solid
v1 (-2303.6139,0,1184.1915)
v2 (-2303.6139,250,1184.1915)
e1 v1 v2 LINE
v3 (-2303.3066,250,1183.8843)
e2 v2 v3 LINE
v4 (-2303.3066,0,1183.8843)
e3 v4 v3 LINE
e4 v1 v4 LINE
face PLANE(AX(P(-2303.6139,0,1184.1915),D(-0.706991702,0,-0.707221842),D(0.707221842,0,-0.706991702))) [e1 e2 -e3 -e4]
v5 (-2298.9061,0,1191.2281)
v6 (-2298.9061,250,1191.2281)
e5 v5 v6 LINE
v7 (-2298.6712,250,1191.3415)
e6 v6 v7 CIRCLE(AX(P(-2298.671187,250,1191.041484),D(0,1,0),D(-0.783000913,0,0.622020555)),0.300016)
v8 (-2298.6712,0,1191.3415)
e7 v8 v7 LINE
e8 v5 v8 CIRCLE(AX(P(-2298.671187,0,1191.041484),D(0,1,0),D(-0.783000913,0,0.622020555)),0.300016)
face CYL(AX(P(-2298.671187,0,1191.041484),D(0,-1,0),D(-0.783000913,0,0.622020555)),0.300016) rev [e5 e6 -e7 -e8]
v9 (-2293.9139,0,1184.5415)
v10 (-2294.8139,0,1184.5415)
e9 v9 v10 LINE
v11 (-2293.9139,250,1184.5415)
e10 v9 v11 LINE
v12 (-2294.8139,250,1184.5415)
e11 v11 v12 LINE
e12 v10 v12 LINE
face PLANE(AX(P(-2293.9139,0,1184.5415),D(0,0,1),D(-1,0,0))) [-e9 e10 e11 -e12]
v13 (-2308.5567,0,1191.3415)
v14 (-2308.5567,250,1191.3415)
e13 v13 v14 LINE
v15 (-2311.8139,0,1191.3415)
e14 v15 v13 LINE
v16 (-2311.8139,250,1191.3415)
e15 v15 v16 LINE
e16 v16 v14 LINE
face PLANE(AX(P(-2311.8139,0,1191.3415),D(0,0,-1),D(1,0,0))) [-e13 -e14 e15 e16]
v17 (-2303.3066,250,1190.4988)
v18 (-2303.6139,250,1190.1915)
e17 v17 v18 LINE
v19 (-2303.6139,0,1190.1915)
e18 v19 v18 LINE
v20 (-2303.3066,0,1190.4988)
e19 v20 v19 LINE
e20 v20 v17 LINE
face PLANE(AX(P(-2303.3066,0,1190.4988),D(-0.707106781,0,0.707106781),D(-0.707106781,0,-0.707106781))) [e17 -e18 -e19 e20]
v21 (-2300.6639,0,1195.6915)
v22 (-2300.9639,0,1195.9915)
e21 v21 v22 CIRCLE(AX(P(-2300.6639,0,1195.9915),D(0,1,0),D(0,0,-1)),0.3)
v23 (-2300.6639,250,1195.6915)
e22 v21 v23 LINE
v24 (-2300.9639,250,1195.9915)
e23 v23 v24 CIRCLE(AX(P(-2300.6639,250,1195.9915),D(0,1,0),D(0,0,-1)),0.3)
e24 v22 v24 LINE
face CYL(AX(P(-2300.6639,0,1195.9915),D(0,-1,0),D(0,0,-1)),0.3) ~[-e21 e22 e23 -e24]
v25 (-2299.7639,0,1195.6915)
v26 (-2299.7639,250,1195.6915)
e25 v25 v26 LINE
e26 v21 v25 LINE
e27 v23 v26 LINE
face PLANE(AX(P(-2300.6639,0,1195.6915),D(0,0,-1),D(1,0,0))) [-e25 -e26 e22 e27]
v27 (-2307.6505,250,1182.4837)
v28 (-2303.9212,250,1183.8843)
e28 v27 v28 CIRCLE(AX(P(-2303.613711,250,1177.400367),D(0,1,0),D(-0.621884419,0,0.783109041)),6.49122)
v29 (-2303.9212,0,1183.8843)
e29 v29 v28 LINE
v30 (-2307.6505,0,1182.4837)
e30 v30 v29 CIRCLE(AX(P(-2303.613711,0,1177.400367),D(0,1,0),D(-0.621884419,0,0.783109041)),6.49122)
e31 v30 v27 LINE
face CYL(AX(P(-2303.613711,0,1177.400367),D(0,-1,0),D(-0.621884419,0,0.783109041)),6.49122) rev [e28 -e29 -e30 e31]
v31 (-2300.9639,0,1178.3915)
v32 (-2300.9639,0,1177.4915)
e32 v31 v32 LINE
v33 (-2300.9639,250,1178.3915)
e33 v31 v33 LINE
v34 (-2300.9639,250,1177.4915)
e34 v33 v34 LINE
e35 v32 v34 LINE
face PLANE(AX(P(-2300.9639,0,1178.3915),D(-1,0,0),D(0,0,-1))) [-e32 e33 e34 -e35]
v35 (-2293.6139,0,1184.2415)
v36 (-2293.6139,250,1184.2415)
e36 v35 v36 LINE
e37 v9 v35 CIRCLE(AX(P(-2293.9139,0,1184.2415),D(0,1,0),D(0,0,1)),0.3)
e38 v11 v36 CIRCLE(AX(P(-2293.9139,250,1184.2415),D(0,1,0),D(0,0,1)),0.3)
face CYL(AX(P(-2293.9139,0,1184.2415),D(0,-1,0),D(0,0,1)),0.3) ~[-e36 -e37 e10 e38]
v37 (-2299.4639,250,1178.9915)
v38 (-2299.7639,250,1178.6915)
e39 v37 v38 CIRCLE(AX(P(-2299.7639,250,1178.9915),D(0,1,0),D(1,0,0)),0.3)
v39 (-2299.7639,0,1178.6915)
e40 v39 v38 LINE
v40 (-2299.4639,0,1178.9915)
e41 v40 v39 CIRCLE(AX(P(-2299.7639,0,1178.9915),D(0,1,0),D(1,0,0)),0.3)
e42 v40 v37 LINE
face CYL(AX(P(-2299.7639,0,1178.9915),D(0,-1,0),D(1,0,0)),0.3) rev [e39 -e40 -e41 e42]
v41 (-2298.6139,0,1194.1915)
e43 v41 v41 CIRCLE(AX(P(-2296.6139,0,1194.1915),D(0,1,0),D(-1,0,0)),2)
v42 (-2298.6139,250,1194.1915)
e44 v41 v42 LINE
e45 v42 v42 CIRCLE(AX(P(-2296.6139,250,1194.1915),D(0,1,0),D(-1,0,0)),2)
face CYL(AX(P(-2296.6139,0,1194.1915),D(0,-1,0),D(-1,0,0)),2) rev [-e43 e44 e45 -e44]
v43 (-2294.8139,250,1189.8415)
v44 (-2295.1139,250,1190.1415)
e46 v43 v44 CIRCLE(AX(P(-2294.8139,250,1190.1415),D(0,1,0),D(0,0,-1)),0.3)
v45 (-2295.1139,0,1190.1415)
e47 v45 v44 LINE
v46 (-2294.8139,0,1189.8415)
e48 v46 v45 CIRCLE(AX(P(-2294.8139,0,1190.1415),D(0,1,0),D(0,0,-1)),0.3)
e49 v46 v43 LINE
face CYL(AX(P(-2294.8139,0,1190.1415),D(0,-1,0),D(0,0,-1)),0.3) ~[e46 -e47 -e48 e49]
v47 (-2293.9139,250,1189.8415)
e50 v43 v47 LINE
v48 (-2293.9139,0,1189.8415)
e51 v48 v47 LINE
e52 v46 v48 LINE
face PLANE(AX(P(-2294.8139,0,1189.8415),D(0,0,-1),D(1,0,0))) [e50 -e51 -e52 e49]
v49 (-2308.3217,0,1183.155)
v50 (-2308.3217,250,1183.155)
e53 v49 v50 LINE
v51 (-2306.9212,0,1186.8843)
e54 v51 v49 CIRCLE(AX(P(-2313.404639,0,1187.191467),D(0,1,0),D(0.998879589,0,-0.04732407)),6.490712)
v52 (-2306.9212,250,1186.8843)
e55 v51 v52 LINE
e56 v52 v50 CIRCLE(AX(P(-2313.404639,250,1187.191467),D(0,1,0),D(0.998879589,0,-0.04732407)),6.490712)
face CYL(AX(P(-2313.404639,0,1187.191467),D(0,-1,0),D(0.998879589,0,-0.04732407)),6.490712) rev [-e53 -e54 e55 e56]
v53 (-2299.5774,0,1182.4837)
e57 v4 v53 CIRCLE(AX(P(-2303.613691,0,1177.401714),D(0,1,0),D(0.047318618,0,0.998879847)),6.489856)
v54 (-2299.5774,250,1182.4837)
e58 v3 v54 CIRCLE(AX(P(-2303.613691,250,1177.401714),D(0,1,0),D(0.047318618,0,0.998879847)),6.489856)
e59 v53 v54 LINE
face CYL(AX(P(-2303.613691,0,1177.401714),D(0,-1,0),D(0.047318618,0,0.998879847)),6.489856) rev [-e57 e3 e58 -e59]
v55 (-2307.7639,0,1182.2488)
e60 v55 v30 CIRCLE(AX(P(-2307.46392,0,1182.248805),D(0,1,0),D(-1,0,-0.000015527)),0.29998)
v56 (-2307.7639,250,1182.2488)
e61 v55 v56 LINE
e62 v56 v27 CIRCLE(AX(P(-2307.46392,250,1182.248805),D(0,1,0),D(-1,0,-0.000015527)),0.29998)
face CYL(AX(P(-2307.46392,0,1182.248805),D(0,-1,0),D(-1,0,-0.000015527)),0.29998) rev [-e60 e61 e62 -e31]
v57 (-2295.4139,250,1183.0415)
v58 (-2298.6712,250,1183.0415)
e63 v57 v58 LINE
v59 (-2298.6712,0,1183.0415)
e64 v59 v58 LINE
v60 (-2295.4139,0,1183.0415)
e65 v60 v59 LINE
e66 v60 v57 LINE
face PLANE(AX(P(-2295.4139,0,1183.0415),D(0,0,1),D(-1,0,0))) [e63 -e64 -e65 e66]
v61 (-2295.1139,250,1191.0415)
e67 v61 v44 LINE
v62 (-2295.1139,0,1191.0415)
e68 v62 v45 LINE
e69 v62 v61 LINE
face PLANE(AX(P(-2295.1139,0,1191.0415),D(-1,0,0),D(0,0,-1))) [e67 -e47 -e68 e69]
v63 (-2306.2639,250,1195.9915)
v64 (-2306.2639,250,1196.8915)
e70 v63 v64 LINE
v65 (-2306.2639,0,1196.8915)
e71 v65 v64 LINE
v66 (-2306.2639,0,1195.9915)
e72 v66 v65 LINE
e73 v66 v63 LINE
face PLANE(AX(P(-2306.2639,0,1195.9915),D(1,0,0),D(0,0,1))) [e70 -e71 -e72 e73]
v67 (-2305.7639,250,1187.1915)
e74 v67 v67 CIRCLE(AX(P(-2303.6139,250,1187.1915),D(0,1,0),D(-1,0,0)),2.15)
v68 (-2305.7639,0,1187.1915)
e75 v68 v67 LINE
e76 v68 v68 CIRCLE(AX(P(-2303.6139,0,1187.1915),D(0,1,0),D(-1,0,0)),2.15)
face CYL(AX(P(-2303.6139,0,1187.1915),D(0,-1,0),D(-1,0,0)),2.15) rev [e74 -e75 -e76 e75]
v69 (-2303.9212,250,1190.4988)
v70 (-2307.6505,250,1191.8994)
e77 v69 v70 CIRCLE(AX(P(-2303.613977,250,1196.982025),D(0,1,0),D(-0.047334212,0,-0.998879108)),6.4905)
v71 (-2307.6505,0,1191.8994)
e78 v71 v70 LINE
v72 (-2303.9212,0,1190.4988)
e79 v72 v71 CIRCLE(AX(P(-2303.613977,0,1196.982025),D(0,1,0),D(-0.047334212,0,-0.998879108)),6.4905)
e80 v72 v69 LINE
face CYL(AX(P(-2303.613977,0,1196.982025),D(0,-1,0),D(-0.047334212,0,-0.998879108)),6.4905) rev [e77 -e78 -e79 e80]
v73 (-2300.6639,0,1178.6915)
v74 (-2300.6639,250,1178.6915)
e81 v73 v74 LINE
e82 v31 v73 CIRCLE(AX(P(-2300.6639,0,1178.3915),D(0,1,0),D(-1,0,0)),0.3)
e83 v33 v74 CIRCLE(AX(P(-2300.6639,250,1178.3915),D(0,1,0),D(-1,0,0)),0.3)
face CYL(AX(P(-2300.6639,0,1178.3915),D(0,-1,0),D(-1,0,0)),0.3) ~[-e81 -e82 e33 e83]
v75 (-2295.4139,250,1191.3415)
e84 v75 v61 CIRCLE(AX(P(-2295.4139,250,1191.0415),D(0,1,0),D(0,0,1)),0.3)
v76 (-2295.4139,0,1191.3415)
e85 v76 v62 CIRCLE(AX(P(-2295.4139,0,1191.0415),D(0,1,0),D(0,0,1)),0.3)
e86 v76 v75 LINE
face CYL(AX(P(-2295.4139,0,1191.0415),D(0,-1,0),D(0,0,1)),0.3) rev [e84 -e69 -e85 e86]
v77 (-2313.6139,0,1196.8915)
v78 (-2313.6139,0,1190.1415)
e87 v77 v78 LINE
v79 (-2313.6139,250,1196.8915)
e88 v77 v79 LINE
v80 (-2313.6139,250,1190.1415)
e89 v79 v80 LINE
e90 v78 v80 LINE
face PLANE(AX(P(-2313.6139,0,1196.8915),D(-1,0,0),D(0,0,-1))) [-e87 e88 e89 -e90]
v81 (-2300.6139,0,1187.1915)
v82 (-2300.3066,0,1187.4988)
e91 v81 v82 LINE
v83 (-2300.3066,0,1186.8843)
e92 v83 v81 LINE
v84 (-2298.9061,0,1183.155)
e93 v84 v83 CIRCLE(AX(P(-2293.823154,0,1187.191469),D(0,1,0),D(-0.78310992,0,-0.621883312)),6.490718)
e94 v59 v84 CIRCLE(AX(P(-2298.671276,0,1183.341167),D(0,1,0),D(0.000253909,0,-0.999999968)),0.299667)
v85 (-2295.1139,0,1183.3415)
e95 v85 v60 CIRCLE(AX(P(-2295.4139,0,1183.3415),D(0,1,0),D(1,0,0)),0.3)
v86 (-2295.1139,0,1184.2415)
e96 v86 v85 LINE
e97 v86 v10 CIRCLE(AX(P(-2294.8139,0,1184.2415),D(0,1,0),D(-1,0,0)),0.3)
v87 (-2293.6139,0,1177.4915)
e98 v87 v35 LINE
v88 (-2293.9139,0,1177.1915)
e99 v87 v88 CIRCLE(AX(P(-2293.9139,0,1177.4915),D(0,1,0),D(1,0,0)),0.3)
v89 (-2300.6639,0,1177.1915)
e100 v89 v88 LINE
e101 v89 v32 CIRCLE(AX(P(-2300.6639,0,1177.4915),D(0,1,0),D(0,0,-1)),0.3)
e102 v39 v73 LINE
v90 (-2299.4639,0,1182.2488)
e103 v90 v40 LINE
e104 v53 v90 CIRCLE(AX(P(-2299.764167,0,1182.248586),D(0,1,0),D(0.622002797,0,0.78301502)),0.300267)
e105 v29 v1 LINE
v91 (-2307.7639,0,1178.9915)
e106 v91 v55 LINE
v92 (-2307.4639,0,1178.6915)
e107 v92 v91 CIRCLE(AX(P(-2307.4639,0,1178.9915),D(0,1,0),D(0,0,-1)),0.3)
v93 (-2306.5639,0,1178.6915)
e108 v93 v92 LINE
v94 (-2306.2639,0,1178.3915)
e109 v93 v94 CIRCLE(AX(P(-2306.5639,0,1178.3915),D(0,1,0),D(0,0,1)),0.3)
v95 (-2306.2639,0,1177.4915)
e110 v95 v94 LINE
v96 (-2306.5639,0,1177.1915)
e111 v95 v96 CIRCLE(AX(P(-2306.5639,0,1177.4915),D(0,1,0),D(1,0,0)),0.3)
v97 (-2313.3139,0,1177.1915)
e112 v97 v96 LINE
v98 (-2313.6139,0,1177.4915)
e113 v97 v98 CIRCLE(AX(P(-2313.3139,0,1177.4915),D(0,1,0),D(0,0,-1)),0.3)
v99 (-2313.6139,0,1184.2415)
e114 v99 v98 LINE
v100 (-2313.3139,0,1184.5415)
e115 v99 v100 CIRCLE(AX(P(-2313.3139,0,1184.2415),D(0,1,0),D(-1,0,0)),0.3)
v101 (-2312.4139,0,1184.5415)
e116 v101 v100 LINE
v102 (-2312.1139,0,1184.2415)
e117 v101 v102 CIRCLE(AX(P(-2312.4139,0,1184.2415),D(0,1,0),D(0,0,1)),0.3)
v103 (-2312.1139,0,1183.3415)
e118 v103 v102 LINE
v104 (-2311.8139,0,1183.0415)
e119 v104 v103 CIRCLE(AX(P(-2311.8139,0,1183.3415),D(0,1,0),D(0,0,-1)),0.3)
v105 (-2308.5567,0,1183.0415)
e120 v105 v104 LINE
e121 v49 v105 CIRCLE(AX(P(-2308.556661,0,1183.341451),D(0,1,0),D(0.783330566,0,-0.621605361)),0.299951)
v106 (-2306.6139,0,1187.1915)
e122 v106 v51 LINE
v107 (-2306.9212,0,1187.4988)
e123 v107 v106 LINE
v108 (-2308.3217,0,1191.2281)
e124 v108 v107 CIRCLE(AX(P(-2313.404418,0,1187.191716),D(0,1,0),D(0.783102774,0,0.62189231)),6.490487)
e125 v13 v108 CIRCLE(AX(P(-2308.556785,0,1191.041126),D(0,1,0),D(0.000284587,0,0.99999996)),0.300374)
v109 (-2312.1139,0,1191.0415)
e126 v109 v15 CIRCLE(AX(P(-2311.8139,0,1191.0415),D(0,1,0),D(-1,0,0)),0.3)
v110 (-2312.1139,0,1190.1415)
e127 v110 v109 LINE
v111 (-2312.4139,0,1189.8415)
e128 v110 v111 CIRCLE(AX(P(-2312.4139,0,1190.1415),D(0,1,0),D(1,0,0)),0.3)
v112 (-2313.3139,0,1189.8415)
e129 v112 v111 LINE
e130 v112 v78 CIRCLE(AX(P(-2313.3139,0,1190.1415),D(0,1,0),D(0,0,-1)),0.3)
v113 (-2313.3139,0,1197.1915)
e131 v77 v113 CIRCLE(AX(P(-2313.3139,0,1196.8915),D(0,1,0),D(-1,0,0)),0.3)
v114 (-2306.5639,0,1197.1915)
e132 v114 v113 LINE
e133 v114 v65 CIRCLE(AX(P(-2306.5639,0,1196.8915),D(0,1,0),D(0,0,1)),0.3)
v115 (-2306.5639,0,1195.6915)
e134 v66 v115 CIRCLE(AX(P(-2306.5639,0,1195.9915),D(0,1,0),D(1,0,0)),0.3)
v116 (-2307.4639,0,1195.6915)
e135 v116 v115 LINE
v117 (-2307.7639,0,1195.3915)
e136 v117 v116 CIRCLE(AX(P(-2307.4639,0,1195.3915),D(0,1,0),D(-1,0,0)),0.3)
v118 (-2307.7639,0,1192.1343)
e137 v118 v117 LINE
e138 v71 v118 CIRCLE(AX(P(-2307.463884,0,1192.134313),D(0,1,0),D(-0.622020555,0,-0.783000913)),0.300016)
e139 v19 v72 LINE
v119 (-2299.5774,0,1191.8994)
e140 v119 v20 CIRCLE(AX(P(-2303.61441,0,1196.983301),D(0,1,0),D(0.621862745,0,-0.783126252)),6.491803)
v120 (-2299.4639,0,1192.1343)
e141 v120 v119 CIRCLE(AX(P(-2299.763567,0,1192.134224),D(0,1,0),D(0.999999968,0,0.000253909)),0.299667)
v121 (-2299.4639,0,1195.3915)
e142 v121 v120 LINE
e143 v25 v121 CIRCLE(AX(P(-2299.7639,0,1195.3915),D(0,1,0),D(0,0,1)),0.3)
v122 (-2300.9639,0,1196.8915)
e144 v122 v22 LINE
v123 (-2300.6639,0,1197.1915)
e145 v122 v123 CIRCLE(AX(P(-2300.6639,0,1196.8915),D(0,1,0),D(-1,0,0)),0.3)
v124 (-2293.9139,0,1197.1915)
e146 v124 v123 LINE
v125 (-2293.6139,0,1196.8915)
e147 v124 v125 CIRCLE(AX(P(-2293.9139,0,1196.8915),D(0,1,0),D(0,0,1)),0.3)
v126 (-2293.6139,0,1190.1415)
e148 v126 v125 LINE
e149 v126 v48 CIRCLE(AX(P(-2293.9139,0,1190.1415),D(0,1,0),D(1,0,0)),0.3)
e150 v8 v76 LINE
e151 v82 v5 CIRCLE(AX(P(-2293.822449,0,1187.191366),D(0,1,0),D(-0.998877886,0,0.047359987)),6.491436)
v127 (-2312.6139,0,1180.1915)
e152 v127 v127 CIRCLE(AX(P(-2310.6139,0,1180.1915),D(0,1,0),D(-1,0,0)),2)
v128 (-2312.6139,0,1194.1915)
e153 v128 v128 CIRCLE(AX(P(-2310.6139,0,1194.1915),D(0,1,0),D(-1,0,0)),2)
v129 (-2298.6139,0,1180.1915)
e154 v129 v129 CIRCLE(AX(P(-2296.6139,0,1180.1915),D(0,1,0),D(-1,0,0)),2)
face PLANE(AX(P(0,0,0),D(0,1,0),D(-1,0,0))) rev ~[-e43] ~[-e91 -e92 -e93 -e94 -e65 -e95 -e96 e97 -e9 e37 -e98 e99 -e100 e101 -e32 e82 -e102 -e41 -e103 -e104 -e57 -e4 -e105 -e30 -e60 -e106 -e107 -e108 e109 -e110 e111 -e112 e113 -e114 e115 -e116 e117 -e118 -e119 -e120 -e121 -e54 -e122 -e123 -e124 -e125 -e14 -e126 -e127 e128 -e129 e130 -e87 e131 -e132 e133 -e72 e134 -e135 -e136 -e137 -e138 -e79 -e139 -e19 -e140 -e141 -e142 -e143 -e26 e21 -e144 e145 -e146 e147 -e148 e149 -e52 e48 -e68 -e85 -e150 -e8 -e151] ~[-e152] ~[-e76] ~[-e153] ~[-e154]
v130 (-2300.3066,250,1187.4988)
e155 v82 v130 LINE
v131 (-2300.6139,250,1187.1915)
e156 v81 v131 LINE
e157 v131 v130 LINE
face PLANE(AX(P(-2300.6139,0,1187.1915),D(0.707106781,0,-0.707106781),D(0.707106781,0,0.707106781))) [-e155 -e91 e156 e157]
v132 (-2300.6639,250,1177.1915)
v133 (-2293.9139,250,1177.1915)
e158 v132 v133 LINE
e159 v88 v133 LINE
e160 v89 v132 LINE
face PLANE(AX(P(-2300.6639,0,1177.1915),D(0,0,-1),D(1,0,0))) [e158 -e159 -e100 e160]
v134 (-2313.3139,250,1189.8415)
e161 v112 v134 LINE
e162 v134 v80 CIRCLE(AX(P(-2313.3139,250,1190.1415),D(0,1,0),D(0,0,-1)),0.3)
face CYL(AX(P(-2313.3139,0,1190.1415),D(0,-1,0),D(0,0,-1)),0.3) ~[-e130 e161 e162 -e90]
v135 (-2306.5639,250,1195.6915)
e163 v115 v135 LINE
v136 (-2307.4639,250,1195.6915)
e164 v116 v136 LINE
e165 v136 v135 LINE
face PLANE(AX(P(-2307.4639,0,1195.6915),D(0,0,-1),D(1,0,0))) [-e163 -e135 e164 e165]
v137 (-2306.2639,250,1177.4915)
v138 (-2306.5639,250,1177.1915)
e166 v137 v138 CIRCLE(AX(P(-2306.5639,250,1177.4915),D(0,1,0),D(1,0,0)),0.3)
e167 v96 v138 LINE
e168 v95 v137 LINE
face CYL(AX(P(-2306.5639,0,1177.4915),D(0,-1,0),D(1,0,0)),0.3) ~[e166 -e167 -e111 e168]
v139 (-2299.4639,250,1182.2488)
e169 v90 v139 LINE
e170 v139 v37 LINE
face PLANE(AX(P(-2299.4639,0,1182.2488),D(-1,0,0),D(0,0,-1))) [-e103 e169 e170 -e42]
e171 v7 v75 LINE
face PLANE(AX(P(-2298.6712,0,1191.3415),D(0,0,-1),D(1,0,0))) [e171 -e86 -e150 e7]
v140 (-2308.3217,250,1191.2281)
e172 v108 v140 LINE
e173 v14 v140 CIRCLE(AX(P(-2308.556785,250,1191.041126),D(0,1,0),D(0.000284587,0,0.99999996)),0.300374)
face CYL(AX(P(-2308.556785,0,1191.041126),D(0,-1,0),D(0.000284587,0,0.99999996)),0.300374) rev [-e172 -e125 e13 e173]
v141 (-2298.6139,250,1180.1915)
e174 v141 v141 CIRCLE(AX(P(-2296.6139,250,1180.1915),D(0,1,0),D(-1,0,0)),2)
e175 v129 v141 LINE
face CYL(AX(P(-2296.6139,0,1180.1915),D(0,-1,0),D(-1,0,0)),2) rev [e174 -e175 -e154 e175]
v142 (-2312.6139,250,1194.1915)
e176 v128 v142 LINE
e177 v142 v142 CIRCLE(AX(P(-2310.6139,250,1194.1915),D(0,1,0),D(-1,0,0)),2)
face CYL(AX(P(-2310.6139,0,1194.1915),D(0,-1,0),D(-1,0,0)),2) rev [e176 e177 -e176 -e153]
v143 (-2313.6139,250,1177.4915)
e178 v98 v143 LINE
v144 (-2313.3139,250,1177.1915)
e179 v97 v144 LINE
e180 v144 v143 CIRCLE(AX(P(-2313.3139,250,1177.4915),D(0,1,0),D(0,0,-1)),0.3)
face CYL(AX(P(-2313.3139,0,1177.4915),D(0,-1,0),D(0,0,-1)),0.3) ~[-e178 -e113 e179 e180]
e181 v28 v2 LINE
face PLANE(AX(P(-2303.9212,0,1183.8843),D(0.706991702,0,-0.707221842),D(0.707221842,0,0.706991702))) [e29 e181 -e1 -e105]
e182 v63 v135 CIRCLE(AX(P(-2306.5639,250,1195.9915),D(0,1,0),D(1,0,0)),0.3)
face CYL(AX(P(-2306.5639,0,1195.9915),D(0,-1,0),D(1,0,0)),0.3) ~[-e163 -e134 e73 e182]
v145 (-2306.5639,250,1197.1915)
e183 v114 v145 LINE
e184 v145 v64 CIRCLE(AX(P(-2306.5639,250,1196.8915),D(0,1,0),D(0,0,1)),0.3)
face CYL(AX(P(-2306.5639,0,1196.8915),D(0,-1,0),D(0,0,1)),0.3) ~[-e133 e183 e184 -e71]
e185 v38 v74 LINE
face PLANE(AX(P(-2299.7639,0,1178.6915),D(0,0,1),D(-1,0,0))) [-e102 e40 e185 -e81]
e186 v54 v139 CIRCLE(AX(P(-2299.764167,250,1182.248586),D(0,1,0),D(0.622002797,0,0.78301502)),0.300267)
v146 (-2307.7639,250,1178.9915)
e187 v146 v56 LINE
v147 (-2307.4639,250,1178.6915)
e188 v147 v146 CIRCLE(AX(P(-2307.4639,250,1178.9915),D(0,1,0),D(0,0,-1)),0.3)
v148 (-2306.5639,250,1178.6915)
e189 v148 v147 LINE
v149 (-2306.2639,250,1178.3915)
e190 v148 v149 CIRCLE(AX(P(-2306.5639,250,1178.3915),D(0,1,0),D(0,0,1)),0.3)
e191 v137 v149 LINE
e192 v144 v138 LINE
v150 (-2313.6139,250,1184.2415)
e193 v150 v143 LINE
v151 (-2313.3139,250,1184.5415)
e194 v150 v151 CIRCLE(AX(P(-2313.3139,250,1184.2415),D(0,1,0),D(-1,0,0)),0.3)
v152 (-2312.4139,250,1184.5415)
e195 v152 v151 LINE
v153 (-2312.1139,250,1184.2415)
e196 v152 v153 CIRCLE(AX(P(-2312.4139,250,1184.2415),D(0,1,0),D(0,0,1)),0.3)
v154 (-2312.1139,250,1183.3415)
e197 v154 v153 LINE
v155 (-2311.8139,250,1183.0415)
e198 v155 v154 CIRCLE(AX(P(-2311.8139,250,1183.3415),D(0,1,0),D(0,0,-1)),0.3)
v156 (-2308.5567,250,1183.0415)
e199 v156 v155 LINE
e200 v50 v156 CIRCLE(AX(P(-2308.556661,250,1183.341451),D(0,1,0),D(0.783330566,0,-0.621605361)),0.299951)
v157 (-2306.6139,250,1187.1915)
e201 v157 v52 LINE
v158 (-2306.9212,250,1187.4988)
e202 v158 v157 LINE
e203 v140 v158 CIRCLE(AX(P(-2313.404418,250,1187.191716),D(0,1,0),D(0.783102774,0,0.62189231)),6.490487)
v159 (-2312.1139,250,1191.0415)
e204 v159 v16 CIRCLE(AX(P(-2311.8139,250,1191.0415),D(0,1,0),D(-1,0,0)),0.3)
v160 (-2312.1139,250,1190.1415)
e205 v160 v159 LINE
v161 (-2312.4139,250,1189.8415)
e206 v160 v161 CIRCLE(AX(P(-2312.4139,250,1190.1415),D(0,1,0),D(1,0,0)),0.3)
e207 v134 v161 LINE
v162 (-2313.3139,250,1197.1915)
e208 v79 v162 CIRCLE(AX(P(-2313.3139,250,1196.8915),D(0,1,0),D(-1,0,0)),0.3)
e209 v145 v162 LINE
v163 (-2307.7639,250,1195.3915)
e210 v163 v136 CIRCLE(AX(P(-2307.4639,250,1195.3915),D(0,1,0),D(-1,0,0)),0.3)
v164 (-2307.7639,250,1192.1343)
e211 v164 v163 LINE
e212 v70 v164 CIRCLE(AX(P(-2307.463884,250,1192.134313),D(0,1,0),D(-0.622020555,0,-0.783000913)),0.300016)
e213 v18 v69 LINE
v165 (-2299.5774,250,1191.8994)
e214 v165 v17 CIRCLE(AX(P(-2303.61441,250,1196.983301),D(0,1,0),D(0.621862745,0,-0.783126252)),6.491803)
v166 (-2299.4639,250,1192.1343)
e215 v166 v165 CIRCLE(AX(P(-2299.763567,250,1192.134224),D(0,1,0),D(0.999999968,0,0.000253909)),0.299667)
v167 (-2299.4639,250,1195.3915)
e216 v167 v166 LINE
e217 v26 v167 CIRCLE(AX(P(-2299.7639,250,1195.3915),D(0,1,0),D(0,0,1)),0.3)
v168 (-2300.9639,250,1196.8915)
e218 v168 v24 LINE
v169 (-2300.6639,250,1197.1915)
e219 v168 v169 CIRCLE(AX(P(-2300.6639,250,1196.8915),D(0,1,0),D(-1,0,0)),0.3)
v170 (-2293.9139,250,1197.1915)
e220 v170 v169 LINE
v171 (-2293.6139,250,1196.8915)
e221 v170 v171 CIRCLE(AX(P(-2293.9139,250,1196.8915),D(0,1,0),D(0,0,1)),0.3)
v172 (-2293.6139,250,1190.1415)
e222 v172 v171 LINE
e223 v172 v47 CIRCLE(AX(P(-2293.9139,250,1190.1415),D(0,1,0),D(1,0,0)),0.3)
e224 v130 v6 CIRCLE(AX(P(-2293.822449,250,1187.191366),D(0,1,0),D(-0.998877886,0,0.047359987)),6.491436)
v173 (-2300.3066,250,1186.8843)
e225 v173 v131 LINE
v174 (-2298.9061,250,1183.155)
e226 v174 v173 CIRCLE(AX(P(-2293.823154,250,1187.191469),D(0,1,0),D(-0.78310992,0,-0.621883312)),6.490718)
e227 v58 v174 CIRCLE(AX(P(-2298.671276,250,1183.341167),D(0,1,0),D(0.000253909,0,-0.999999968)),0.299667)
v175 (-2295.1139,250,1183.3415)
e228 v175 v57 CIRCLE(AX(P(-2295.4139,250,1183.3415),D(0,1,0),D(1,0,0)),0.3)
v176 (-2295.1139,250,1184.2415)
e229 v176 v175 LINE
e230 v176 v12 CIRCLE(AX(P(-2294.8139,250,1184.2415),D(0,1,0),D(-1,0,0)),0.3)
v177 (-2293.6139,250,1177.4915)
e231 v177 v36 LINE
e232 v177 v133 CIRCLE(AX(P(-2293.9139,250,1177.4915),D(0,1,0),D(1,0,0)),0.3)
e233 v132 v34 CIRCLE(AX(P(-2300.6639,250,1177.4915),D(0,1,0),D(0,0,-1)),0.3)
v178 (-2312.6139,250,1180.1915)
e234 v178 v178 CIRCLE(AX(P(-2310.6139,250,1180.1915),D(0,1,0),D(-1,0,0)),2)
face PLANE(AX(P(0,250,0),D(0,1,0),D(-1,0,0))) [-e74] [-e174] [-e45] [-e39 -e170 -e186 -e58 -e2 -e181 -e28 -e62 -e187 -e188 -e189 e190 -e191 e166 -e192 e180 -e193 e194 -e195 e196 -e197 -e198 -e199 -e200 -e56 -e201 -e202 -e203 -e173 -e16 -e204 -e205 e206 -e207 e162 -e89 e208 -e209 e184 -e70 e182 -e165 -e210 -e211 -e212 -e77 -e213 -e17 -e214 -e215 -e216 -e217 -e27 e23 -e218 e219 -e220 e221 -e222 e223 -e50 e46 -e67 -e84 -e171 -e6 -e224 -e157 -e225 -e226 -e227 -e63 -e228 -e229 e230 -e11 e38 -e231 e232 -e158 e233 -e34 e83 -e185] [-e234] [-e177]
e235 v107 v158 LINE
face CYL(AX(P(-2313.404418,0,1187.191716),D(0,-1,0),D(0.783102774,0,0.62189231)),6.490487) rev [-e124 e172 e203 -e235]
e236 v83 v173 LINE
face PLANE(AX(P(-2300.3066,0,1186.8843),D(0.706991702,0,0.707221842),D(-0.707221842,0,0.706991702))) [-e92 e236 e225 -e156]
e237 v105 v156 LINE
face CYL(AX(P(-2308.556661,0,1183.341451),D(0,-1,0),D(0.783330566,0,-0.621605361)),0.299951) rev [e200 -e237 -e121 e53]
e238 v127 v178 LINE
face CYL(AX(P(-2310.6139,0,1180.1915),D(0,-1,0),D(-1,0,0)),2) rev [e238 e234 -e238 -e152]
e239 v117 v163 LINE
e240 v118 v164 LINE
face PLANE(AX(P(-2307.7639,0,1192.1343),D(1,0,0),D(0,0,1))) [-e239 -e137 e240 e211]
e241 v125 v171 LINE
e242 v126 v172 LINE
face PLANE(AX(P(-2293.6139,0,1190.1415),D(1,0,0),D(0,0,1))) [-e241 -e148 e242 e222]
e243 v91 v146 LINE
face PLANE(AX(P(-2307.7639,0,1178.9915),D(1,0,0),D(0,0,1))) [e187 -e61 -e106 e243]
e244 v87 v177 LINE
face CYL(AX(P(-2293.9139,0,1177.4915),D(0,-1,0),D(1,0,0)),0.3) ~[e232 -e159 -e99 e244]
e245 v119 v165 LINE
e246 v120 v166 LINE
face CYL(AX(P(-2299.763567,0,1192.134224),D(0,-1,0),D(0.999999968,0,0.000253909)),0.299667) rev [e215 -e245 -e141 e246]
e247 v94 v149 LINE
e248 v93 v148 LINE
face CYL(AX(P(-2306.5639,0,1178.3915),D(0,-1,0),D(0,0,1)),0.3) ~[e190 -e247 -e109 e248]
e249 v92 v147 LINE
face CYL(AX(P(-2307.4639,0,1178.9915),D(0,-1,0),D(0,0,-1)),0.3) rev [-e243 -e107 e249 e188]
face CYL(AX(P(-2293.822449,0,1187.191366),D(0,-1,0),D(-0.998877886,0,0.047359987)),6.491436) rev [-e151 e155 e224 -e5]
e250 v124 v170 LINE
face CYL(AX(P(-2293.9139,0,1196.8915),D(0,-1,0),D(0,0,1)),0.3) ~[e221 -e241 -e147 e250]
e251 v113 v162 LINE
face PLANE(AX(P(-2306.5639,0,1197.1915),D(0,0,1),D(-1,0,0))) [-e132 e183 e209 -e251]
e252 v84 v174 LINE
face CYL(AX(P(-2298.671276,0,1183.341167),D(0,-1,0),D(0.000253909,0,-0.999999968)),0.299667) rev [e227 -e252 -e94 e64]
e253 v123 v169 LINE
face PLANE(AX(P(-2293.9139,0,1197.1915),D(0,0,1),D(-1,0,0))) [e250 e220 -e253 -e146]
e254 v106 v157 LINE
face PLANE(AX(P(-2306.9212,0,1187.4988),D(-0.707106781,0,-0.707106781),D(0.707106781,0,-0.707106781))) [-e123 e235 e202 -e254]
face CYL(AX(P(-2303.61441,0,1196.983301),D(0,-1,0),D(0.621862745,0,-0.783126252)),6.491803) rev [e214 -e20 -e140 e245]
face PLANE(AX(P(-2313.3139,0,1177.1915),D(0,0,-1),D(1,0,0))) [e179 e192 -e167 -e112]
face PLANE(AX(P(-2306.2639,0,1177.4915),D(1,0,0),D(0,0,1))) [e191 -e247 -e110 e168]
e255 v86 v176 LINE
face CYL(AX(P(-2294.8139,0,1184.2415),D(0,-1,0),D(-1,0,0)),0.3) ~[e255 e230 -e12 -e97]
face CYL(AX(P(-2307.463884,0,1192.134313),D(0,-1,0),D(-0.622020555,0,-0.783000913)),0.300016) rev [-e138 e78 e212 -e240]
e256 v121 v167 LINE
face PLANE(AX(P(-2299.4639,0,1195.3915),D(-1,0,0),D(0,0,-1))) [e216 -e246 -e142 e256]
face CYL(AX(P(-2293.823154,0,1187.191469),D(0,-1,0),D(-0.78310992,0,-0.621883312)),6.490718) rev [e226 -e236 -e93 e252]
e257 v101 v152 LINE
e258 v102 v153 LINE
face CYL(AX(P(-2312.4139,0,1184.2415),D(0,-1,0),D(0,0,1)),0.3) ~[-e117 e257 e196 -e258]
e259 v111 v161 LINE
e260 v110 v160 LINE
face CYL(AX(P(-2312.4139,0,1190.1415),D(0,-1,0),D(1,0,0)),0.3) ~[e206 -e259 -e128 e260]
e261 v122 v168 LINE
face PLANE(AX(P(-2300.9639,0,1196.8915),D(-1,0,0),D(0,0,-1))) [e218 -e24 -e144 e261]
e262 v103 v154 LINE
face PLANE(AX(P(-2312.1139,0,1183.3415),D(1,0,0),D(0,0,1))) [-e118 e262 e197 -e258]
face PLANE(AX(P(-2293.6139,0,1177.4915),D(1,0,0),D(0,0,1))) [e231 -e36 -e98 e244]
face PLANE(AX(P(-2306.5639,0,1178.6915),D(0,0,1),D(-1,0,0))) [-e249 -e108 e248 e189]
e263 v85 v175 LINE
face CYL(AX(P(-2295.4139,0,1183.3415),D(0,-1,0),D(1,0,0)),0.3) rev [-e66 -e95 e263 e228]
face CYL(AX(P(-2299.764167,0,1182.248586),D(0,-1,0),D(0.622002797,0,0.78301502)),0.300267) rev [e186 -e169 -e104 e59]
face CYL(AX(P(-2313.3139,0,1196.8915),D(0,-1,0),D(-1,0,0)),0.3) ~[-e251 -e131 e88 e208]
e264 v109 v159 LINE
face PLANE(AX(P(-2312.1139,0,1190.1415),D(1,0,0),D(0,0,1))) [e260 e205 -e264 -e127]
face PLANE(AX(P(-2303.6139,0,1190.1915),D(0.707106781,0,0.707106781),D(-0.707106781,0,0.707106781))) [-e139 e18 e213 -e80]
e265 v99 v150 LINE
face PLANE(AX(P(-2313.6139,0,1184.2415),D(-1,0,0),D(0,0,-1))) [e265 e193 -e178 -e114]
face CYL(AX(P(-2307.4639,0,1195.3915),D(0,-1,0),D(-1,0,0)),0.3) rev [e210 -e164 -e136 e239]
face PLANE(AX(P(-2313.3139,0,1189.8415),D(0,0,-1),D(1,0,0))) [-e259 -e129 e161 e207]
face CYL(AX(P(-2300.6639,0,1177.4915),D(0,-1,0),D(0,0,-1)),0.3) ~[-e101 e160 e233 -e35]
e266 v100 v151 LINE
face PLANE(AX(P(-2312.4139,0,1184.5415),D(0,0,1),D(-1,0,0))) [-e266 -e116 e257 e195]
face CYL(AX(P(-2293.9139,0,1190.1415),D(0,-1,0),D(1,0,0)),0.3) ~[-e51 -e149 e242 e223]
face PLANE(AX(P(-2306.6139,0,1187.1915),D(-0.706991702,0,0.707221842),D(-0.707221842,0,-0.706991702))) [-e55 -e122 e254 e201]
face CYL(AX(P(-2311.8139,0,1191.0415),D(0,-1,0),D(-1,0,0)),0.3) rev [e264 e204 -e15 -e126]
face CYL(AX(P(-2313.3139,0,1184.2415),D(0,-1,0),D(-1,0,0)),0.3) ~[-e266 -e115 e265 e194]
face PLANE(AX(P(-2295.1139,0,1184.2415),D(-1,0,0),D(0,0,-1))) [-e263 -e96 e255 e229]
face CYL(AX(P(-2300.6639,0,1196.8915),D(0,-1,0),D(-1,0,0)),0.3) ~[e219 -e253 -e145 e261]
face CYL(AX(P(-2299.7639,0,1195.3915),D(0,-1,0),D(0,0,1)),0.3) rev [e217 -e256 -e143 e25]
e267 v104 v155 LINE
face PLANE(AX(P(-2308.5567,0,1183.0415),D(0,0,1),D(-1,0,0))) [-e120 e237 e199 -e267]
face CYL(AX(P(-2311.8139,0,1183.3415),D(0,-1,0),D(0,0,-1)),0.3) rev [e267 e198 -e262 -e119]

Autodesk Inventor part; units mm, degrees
ref_plane "YZ Plane" through (0, 0, 0) normal (1, 0, 0) x (0, 1, 0)
ref_plane "XZ Plane" through (0, 0, 0) normal (0, 1, 0) x (-1, 0, 0)
ref_plane "XY Plane" through (0, 0, 0) normal (0, 0, 1) x (1, 0, 0)
sketch "2020_Base" plane through (0, 0, 0) normal (0, 1, 0) x (-1, 0, 0)
  line L0 (2307.7639, 1192.1343) -> (2307.7639, 1195.3915) projected
  arc A0 (2307.7639, 1195.3915) -> (2307.4639, 1195.6915) centre (2307.4639, 1195.3915) ccw projected
  line L1 (2307.4639, 1195.6915) -> (2306.5639, 1195.6915) projected
  arc A1 (2306.2639, 1195.9915) -> (2306.5639, 1195.6915) centre (2306.5639, 1195.9915) ccw projected
  line L2 (2306.2639, 1195.9915) -> (2306.2639, 1196.8915) projected
  arc A2 (2306.5639, 1197.1915) -> (2306.2639, 1196.8915) centre (2306.5639, 1196.8915) ccw projected
  line L3 (2306.5639, 1197.1915) -> (2313.3139, 1197.1915) projected
  arc A3 (2313.6139, 1196.8915) -> (2313.3139, 1197.1915) centre (2313.3139, 1196.8915) ccw projected
  line L4 (2313.6139, 1196.8915) -> (2313.6139, 1190.1415) projected
  arc A4 (2313.3139, 1189.8415) -> (2313.6139, 1190.1415) centre (2313.3139, 1190.1415) ccw projected
  line L5 (2313.3139, 1189.8415) -> (2312.4139, 1189.8415) projected
  arc A5 (2312.1139, 1190.1415) -> (2312.4139, 1189.8415) centre (2312.4139, 1190.1415) ccw projected
  line L6 (2312.1139, 1190.1415) -> (2312.1139, 1191.0415) projected
  arc A6 (2312.1139, 1191.0415) -> (2311.8139, 1191.3415) centre (2311.8139, 1191.0415) ccw projected
  line L7 (2311.8139, 1191.3415) -> (2308.5567, 1191.3415) projected
  arc A7 (2308.5567, 1191.3415) -> (2308.3217, 1191.2281) centre (2308.5567, 1191.0415) ccw projected
  arc A8 (2308.3217, 1191.2281) -> (2306.9212, 1187.4988) centre (2313.4048, 1187.1915) ccw projected
  line L8 (2306.9212, 1187.4988) -> (2306.6139, 1187.1915) projected
  line L9 (2306.6139, 1187.1915) -> (2306.9212, 1186.8843) projected
  arc A9 (2306.9212, 1186.8843) -> (2308.3217, 1183.155) centre (2313.4048, 1187.1915) ccw projected
  arc A10 (2308.3217, 1183.155) -> (2308.5567, 1183.0415) centre (2308.5567, 1183.3415) ccw projected
  line L10 (2308.5567, 1183.0415) -> (2311.8139, 1183.0415) projected
  arc A11 (2311.8139, 1183.0415) -> (2312.1139, 1183.3415) centre (2311.8139, 1183.3415) ccw projected
  line L11 (2312.1139, 1183.3415) -> (2312.1139, 1184.2415) projected
  arc A12 (2312.4139, 1184.5415) -> (2312.1139, 1184.2415) centre (2312.4139, 1184.2415) ccw projected
  line L12 (2312.4139, 1184.5415) -> (2313.3139, 1184.5415) projected
  arc A13 (2313.6139, 1184.2415) -> (2313.3139, 1184.5415) centre (2313.3139, 1184.2415) ccw projected
  line L13 (2313.6139, 1184.2415) -> (2313.6139, 1177.4915) projected
  arc A14 (2313.3139, 1177.1915) -> (2313.6139, 1177.4915) centre (2313.3139, 1177.4915) ccw projected
  line L14 (2313.3139, 1177.1915) -> (2306.5639, 1177.1915) projected
  arc A15 (2306.2639, 1177.4915) -> (2306.5639, 1177.1915) centre (2306.5639, 1177.4915) ccw projected
  line L15 (2306.2639, 1177.4915) -> (2306.2639, 1178.3915) projected
  arc A16 (2306.5639, 1178.6915) -> (2306.2639, 1178.3915) centre (2306.5639, 1178.3915) ccw projected
  line L16 (2306.5639, 1178.6915) -> (2307.4639, 1178.6915) projected
  arc A17 (2307.4639, 1178.6915) -> (2307.7639, 1178.9915) centre (2307.4639, 1178.9915) ccw projected
  line L17 (2307.7639, 1178.9915) -> (2307.7639, 1182.2488) projected
  arc A18 (2307.7639, 1182.2488) -> (2307.6505, 1182.4837) centre (2307.4639, 1182.2488) ccw projected
  arc A19 (2307.6505, 1182.4837) -> (2303.9212, 1183.8843) centre (2303.6139, 1177.4007) ccw projected
  line L18 (2303.9212, 1183.8843) -> (2303.6139, 1184.1915) projected
  line L19 (2303.6139, 1184.1915) -> (2303.3066, 1183.8843) projected
  arc A20 (2303.3066, 1183.8843) -> (2299.5774, 1182.4837) centre (2303.6139, 1177.4007) ccw projected
  arc A21 (2299.5774, 1182.4837) -> (2299.4639, 1182.2488) centre (2299.7639, 1182.2488) ccw projected
  line L20 (2299.4639, 1182.2488) -> (2299.4639, 1178.9915) projected
  arc A22 (2299.4639, 1178.9915) -> (2299.7639, 1178.6915) centre (2299.7639, 1178.9915) ccw projected
  line L21 (2299.7639, 1178.6915) -> (2300.6639, 1178.6915) projected
  arc A23 (2300.9639, 1178.3915) -> (2300.6639, 1178.6915) centre (2300.6639, 1178.3915) ccw projected
  line L22 (2300.9639, 1178.3915) -> (2300.9639, 1177.4915) projected
  arc A24 (2300.6639, 1177.1915) -> (2300.9639, 1177.4915) centre (2300.6639, 1177.4915) ccw projected
  line L23 (2300.6639, 1177.1915) -> (2293.9139, 1177.1915) projected
  arc A25 (2293.6139, 1177.4915) -> (2293.9139, 1177.1915) centre (2293.9139, 1177.4915) ccw projected
  line L24 (2293.6139, 1177.4915) -> (2293.6139, 1184.2415) projected
  arc A26 (2293.9139, 1184.5415) -> (2293.6139, 1184.2415) centre (2293.9139, 1184.2415) ccw projected
  line L25 (2293.9139, 1184.5415) -> (2294.8139, 1184.5415) projected
  arc A27 (2295.1139, 1184.2415) -> (2294.8139, 1184.5415) centre (2294.8139, 1184.2415) ccw projected
  line L26 (2295.1139, 1184.2415) -> (2295.1139, 1183.3415) projected
  arc A28 (2295.1139, 1183.3415) -> (2295.4139, 1183.0415) centre (2295.4139, 1183.3415) ccw projected
  line L27 (2295.4139, 1183.0415) -> (2298.6712, 1183.0415) projected
  arc A29 (2298.6712, 1183.0415) -> (2298.9061, 1183.155) centre (2298.6712, 1183.3415) ccw projected
  arc A30 (2298.9061, 1183.155) -> (2300.3066, 1186.8843) centre (2293.8231, 1187.1915) ccw projected
  line L28 (2300.3066, 1186.8843) -> (2300.6139, 1187.1915) projected
  line L29 (2300.6139, 1187.1915) -> (2300.3066, 1187.4988) projected
  arc A31 (2300.3066, 1187.4988) -> (2298.9061, 1191.2281) centre (2293.8231, 1187.1915) ccw projected
  arc A32 (2298.9061, 1191.2281) -> (2298.6712, 1191.3415) centre (2298.6712, 1191.0415) ccw projected
  line L30 (2298.6712, 1191.3415) -> (2295.4139, 1191.3415) projected
  arc A33 (2295.4139, 1191.3415) -> (2295.1139, 1191.0415) centre (2295.4139, 1191.0415) ccw projected
  line L31 (2295.1139, 1191.0415) -> (2295.1139, 1190.1415) projected
  arc A34 (2294.8139, 1189.8415) -> (2295.1139, 1190.1415) centre (2294.8139, 1190.1415) ccw projected
  line L32 (2294.8139, 1189.8415) -> (2293.9139, 1189.8415) projected
  arc A35 (2293.6139, 1190.1415) -> (2293.9139, 1189.8415) centre (2293.9139, 1190.1415) ccw projected
  line L33 (2293.6139, 1190.1415) -> (2293.6139, 1196.8915) projected
  arc A36 (2293.9139, 1197.1915) -> (2293.6139, 1196.8915) centre (2293.9139, 1196.8915) ccw projected
  line L34 (2293.9139, 1197.1915) -> (2300.6639, 1197.1915) projected
  arc A37 (2300.9639, 1196.8915) -> (2300.6639, 1197.1915) centre (2300.6639, 1196.8915) ccw projected
  line L35 (2300.9639, 1196.8915) -> (2300.9639, 1195.9915) projected
  arc A38 (2300.6639, 1195.6915) -> (2300.9639, 1195.9915) centre (2300.6639, 1195.9915) ccw projected
  line L36 (2300.6639, 1195.6915) -> (2299.7639, 1195.6915) projected
  arc A39 (2299.7639, 1195.6915) -> (2299.4639, 1195.3915) centre (2299.7639, 1195.3915) ccw projected
  line L37 (2299.4639, 1195.3915) -> (2299.4639, 1192.1343) projected
  arc A40 (2299.4639, 1192.1343) -> (2299.5774, 1191.8994) centre (2299.7639, 1192.1343) ccw projected
  arc A41 (2299.5774, 1191.8994) -> (2303.3066, 1190.4988) centre (2303.6139, 1196.9824) ccw projected
  line L38 (2303.3066, 1190.4988) -> (2303.6139, 1190.1915) projected
  line L39 (2303.6139, 1190.1915) -> (2303.9212, 1190.4988) projected
  arc A42 (2303.9212, 1190.4988) -> (2307.6505, 1191.8994) centre (2303.6139, 1196.9824) ccw projected
  arc A43 (2307.6505, 1191.8994) -> (2307.7639, 1192.1343) centre (2307.4639, 1192.1343) ccw projected
  circle A44 centre (2310.6139, 1194.1915) radius 2 projected
  circle A45 centre (2303.6139, 1187.1915) radius 2.15 projected
  circle A46 centre (2296.6139, 1194.1915) radius 2 projected
  circle A47 centre (2296.6139, 1180.1915) radius 2 projected
  circle A48 centre (2310.6139, 1180.1915) radius 2 projected
  point P0 (0, 0)
extrude "300mm 2020" add sketch "2020_Base" along normal blind 250
properties part number "100mm 2020" material "알루미늄 6061"
